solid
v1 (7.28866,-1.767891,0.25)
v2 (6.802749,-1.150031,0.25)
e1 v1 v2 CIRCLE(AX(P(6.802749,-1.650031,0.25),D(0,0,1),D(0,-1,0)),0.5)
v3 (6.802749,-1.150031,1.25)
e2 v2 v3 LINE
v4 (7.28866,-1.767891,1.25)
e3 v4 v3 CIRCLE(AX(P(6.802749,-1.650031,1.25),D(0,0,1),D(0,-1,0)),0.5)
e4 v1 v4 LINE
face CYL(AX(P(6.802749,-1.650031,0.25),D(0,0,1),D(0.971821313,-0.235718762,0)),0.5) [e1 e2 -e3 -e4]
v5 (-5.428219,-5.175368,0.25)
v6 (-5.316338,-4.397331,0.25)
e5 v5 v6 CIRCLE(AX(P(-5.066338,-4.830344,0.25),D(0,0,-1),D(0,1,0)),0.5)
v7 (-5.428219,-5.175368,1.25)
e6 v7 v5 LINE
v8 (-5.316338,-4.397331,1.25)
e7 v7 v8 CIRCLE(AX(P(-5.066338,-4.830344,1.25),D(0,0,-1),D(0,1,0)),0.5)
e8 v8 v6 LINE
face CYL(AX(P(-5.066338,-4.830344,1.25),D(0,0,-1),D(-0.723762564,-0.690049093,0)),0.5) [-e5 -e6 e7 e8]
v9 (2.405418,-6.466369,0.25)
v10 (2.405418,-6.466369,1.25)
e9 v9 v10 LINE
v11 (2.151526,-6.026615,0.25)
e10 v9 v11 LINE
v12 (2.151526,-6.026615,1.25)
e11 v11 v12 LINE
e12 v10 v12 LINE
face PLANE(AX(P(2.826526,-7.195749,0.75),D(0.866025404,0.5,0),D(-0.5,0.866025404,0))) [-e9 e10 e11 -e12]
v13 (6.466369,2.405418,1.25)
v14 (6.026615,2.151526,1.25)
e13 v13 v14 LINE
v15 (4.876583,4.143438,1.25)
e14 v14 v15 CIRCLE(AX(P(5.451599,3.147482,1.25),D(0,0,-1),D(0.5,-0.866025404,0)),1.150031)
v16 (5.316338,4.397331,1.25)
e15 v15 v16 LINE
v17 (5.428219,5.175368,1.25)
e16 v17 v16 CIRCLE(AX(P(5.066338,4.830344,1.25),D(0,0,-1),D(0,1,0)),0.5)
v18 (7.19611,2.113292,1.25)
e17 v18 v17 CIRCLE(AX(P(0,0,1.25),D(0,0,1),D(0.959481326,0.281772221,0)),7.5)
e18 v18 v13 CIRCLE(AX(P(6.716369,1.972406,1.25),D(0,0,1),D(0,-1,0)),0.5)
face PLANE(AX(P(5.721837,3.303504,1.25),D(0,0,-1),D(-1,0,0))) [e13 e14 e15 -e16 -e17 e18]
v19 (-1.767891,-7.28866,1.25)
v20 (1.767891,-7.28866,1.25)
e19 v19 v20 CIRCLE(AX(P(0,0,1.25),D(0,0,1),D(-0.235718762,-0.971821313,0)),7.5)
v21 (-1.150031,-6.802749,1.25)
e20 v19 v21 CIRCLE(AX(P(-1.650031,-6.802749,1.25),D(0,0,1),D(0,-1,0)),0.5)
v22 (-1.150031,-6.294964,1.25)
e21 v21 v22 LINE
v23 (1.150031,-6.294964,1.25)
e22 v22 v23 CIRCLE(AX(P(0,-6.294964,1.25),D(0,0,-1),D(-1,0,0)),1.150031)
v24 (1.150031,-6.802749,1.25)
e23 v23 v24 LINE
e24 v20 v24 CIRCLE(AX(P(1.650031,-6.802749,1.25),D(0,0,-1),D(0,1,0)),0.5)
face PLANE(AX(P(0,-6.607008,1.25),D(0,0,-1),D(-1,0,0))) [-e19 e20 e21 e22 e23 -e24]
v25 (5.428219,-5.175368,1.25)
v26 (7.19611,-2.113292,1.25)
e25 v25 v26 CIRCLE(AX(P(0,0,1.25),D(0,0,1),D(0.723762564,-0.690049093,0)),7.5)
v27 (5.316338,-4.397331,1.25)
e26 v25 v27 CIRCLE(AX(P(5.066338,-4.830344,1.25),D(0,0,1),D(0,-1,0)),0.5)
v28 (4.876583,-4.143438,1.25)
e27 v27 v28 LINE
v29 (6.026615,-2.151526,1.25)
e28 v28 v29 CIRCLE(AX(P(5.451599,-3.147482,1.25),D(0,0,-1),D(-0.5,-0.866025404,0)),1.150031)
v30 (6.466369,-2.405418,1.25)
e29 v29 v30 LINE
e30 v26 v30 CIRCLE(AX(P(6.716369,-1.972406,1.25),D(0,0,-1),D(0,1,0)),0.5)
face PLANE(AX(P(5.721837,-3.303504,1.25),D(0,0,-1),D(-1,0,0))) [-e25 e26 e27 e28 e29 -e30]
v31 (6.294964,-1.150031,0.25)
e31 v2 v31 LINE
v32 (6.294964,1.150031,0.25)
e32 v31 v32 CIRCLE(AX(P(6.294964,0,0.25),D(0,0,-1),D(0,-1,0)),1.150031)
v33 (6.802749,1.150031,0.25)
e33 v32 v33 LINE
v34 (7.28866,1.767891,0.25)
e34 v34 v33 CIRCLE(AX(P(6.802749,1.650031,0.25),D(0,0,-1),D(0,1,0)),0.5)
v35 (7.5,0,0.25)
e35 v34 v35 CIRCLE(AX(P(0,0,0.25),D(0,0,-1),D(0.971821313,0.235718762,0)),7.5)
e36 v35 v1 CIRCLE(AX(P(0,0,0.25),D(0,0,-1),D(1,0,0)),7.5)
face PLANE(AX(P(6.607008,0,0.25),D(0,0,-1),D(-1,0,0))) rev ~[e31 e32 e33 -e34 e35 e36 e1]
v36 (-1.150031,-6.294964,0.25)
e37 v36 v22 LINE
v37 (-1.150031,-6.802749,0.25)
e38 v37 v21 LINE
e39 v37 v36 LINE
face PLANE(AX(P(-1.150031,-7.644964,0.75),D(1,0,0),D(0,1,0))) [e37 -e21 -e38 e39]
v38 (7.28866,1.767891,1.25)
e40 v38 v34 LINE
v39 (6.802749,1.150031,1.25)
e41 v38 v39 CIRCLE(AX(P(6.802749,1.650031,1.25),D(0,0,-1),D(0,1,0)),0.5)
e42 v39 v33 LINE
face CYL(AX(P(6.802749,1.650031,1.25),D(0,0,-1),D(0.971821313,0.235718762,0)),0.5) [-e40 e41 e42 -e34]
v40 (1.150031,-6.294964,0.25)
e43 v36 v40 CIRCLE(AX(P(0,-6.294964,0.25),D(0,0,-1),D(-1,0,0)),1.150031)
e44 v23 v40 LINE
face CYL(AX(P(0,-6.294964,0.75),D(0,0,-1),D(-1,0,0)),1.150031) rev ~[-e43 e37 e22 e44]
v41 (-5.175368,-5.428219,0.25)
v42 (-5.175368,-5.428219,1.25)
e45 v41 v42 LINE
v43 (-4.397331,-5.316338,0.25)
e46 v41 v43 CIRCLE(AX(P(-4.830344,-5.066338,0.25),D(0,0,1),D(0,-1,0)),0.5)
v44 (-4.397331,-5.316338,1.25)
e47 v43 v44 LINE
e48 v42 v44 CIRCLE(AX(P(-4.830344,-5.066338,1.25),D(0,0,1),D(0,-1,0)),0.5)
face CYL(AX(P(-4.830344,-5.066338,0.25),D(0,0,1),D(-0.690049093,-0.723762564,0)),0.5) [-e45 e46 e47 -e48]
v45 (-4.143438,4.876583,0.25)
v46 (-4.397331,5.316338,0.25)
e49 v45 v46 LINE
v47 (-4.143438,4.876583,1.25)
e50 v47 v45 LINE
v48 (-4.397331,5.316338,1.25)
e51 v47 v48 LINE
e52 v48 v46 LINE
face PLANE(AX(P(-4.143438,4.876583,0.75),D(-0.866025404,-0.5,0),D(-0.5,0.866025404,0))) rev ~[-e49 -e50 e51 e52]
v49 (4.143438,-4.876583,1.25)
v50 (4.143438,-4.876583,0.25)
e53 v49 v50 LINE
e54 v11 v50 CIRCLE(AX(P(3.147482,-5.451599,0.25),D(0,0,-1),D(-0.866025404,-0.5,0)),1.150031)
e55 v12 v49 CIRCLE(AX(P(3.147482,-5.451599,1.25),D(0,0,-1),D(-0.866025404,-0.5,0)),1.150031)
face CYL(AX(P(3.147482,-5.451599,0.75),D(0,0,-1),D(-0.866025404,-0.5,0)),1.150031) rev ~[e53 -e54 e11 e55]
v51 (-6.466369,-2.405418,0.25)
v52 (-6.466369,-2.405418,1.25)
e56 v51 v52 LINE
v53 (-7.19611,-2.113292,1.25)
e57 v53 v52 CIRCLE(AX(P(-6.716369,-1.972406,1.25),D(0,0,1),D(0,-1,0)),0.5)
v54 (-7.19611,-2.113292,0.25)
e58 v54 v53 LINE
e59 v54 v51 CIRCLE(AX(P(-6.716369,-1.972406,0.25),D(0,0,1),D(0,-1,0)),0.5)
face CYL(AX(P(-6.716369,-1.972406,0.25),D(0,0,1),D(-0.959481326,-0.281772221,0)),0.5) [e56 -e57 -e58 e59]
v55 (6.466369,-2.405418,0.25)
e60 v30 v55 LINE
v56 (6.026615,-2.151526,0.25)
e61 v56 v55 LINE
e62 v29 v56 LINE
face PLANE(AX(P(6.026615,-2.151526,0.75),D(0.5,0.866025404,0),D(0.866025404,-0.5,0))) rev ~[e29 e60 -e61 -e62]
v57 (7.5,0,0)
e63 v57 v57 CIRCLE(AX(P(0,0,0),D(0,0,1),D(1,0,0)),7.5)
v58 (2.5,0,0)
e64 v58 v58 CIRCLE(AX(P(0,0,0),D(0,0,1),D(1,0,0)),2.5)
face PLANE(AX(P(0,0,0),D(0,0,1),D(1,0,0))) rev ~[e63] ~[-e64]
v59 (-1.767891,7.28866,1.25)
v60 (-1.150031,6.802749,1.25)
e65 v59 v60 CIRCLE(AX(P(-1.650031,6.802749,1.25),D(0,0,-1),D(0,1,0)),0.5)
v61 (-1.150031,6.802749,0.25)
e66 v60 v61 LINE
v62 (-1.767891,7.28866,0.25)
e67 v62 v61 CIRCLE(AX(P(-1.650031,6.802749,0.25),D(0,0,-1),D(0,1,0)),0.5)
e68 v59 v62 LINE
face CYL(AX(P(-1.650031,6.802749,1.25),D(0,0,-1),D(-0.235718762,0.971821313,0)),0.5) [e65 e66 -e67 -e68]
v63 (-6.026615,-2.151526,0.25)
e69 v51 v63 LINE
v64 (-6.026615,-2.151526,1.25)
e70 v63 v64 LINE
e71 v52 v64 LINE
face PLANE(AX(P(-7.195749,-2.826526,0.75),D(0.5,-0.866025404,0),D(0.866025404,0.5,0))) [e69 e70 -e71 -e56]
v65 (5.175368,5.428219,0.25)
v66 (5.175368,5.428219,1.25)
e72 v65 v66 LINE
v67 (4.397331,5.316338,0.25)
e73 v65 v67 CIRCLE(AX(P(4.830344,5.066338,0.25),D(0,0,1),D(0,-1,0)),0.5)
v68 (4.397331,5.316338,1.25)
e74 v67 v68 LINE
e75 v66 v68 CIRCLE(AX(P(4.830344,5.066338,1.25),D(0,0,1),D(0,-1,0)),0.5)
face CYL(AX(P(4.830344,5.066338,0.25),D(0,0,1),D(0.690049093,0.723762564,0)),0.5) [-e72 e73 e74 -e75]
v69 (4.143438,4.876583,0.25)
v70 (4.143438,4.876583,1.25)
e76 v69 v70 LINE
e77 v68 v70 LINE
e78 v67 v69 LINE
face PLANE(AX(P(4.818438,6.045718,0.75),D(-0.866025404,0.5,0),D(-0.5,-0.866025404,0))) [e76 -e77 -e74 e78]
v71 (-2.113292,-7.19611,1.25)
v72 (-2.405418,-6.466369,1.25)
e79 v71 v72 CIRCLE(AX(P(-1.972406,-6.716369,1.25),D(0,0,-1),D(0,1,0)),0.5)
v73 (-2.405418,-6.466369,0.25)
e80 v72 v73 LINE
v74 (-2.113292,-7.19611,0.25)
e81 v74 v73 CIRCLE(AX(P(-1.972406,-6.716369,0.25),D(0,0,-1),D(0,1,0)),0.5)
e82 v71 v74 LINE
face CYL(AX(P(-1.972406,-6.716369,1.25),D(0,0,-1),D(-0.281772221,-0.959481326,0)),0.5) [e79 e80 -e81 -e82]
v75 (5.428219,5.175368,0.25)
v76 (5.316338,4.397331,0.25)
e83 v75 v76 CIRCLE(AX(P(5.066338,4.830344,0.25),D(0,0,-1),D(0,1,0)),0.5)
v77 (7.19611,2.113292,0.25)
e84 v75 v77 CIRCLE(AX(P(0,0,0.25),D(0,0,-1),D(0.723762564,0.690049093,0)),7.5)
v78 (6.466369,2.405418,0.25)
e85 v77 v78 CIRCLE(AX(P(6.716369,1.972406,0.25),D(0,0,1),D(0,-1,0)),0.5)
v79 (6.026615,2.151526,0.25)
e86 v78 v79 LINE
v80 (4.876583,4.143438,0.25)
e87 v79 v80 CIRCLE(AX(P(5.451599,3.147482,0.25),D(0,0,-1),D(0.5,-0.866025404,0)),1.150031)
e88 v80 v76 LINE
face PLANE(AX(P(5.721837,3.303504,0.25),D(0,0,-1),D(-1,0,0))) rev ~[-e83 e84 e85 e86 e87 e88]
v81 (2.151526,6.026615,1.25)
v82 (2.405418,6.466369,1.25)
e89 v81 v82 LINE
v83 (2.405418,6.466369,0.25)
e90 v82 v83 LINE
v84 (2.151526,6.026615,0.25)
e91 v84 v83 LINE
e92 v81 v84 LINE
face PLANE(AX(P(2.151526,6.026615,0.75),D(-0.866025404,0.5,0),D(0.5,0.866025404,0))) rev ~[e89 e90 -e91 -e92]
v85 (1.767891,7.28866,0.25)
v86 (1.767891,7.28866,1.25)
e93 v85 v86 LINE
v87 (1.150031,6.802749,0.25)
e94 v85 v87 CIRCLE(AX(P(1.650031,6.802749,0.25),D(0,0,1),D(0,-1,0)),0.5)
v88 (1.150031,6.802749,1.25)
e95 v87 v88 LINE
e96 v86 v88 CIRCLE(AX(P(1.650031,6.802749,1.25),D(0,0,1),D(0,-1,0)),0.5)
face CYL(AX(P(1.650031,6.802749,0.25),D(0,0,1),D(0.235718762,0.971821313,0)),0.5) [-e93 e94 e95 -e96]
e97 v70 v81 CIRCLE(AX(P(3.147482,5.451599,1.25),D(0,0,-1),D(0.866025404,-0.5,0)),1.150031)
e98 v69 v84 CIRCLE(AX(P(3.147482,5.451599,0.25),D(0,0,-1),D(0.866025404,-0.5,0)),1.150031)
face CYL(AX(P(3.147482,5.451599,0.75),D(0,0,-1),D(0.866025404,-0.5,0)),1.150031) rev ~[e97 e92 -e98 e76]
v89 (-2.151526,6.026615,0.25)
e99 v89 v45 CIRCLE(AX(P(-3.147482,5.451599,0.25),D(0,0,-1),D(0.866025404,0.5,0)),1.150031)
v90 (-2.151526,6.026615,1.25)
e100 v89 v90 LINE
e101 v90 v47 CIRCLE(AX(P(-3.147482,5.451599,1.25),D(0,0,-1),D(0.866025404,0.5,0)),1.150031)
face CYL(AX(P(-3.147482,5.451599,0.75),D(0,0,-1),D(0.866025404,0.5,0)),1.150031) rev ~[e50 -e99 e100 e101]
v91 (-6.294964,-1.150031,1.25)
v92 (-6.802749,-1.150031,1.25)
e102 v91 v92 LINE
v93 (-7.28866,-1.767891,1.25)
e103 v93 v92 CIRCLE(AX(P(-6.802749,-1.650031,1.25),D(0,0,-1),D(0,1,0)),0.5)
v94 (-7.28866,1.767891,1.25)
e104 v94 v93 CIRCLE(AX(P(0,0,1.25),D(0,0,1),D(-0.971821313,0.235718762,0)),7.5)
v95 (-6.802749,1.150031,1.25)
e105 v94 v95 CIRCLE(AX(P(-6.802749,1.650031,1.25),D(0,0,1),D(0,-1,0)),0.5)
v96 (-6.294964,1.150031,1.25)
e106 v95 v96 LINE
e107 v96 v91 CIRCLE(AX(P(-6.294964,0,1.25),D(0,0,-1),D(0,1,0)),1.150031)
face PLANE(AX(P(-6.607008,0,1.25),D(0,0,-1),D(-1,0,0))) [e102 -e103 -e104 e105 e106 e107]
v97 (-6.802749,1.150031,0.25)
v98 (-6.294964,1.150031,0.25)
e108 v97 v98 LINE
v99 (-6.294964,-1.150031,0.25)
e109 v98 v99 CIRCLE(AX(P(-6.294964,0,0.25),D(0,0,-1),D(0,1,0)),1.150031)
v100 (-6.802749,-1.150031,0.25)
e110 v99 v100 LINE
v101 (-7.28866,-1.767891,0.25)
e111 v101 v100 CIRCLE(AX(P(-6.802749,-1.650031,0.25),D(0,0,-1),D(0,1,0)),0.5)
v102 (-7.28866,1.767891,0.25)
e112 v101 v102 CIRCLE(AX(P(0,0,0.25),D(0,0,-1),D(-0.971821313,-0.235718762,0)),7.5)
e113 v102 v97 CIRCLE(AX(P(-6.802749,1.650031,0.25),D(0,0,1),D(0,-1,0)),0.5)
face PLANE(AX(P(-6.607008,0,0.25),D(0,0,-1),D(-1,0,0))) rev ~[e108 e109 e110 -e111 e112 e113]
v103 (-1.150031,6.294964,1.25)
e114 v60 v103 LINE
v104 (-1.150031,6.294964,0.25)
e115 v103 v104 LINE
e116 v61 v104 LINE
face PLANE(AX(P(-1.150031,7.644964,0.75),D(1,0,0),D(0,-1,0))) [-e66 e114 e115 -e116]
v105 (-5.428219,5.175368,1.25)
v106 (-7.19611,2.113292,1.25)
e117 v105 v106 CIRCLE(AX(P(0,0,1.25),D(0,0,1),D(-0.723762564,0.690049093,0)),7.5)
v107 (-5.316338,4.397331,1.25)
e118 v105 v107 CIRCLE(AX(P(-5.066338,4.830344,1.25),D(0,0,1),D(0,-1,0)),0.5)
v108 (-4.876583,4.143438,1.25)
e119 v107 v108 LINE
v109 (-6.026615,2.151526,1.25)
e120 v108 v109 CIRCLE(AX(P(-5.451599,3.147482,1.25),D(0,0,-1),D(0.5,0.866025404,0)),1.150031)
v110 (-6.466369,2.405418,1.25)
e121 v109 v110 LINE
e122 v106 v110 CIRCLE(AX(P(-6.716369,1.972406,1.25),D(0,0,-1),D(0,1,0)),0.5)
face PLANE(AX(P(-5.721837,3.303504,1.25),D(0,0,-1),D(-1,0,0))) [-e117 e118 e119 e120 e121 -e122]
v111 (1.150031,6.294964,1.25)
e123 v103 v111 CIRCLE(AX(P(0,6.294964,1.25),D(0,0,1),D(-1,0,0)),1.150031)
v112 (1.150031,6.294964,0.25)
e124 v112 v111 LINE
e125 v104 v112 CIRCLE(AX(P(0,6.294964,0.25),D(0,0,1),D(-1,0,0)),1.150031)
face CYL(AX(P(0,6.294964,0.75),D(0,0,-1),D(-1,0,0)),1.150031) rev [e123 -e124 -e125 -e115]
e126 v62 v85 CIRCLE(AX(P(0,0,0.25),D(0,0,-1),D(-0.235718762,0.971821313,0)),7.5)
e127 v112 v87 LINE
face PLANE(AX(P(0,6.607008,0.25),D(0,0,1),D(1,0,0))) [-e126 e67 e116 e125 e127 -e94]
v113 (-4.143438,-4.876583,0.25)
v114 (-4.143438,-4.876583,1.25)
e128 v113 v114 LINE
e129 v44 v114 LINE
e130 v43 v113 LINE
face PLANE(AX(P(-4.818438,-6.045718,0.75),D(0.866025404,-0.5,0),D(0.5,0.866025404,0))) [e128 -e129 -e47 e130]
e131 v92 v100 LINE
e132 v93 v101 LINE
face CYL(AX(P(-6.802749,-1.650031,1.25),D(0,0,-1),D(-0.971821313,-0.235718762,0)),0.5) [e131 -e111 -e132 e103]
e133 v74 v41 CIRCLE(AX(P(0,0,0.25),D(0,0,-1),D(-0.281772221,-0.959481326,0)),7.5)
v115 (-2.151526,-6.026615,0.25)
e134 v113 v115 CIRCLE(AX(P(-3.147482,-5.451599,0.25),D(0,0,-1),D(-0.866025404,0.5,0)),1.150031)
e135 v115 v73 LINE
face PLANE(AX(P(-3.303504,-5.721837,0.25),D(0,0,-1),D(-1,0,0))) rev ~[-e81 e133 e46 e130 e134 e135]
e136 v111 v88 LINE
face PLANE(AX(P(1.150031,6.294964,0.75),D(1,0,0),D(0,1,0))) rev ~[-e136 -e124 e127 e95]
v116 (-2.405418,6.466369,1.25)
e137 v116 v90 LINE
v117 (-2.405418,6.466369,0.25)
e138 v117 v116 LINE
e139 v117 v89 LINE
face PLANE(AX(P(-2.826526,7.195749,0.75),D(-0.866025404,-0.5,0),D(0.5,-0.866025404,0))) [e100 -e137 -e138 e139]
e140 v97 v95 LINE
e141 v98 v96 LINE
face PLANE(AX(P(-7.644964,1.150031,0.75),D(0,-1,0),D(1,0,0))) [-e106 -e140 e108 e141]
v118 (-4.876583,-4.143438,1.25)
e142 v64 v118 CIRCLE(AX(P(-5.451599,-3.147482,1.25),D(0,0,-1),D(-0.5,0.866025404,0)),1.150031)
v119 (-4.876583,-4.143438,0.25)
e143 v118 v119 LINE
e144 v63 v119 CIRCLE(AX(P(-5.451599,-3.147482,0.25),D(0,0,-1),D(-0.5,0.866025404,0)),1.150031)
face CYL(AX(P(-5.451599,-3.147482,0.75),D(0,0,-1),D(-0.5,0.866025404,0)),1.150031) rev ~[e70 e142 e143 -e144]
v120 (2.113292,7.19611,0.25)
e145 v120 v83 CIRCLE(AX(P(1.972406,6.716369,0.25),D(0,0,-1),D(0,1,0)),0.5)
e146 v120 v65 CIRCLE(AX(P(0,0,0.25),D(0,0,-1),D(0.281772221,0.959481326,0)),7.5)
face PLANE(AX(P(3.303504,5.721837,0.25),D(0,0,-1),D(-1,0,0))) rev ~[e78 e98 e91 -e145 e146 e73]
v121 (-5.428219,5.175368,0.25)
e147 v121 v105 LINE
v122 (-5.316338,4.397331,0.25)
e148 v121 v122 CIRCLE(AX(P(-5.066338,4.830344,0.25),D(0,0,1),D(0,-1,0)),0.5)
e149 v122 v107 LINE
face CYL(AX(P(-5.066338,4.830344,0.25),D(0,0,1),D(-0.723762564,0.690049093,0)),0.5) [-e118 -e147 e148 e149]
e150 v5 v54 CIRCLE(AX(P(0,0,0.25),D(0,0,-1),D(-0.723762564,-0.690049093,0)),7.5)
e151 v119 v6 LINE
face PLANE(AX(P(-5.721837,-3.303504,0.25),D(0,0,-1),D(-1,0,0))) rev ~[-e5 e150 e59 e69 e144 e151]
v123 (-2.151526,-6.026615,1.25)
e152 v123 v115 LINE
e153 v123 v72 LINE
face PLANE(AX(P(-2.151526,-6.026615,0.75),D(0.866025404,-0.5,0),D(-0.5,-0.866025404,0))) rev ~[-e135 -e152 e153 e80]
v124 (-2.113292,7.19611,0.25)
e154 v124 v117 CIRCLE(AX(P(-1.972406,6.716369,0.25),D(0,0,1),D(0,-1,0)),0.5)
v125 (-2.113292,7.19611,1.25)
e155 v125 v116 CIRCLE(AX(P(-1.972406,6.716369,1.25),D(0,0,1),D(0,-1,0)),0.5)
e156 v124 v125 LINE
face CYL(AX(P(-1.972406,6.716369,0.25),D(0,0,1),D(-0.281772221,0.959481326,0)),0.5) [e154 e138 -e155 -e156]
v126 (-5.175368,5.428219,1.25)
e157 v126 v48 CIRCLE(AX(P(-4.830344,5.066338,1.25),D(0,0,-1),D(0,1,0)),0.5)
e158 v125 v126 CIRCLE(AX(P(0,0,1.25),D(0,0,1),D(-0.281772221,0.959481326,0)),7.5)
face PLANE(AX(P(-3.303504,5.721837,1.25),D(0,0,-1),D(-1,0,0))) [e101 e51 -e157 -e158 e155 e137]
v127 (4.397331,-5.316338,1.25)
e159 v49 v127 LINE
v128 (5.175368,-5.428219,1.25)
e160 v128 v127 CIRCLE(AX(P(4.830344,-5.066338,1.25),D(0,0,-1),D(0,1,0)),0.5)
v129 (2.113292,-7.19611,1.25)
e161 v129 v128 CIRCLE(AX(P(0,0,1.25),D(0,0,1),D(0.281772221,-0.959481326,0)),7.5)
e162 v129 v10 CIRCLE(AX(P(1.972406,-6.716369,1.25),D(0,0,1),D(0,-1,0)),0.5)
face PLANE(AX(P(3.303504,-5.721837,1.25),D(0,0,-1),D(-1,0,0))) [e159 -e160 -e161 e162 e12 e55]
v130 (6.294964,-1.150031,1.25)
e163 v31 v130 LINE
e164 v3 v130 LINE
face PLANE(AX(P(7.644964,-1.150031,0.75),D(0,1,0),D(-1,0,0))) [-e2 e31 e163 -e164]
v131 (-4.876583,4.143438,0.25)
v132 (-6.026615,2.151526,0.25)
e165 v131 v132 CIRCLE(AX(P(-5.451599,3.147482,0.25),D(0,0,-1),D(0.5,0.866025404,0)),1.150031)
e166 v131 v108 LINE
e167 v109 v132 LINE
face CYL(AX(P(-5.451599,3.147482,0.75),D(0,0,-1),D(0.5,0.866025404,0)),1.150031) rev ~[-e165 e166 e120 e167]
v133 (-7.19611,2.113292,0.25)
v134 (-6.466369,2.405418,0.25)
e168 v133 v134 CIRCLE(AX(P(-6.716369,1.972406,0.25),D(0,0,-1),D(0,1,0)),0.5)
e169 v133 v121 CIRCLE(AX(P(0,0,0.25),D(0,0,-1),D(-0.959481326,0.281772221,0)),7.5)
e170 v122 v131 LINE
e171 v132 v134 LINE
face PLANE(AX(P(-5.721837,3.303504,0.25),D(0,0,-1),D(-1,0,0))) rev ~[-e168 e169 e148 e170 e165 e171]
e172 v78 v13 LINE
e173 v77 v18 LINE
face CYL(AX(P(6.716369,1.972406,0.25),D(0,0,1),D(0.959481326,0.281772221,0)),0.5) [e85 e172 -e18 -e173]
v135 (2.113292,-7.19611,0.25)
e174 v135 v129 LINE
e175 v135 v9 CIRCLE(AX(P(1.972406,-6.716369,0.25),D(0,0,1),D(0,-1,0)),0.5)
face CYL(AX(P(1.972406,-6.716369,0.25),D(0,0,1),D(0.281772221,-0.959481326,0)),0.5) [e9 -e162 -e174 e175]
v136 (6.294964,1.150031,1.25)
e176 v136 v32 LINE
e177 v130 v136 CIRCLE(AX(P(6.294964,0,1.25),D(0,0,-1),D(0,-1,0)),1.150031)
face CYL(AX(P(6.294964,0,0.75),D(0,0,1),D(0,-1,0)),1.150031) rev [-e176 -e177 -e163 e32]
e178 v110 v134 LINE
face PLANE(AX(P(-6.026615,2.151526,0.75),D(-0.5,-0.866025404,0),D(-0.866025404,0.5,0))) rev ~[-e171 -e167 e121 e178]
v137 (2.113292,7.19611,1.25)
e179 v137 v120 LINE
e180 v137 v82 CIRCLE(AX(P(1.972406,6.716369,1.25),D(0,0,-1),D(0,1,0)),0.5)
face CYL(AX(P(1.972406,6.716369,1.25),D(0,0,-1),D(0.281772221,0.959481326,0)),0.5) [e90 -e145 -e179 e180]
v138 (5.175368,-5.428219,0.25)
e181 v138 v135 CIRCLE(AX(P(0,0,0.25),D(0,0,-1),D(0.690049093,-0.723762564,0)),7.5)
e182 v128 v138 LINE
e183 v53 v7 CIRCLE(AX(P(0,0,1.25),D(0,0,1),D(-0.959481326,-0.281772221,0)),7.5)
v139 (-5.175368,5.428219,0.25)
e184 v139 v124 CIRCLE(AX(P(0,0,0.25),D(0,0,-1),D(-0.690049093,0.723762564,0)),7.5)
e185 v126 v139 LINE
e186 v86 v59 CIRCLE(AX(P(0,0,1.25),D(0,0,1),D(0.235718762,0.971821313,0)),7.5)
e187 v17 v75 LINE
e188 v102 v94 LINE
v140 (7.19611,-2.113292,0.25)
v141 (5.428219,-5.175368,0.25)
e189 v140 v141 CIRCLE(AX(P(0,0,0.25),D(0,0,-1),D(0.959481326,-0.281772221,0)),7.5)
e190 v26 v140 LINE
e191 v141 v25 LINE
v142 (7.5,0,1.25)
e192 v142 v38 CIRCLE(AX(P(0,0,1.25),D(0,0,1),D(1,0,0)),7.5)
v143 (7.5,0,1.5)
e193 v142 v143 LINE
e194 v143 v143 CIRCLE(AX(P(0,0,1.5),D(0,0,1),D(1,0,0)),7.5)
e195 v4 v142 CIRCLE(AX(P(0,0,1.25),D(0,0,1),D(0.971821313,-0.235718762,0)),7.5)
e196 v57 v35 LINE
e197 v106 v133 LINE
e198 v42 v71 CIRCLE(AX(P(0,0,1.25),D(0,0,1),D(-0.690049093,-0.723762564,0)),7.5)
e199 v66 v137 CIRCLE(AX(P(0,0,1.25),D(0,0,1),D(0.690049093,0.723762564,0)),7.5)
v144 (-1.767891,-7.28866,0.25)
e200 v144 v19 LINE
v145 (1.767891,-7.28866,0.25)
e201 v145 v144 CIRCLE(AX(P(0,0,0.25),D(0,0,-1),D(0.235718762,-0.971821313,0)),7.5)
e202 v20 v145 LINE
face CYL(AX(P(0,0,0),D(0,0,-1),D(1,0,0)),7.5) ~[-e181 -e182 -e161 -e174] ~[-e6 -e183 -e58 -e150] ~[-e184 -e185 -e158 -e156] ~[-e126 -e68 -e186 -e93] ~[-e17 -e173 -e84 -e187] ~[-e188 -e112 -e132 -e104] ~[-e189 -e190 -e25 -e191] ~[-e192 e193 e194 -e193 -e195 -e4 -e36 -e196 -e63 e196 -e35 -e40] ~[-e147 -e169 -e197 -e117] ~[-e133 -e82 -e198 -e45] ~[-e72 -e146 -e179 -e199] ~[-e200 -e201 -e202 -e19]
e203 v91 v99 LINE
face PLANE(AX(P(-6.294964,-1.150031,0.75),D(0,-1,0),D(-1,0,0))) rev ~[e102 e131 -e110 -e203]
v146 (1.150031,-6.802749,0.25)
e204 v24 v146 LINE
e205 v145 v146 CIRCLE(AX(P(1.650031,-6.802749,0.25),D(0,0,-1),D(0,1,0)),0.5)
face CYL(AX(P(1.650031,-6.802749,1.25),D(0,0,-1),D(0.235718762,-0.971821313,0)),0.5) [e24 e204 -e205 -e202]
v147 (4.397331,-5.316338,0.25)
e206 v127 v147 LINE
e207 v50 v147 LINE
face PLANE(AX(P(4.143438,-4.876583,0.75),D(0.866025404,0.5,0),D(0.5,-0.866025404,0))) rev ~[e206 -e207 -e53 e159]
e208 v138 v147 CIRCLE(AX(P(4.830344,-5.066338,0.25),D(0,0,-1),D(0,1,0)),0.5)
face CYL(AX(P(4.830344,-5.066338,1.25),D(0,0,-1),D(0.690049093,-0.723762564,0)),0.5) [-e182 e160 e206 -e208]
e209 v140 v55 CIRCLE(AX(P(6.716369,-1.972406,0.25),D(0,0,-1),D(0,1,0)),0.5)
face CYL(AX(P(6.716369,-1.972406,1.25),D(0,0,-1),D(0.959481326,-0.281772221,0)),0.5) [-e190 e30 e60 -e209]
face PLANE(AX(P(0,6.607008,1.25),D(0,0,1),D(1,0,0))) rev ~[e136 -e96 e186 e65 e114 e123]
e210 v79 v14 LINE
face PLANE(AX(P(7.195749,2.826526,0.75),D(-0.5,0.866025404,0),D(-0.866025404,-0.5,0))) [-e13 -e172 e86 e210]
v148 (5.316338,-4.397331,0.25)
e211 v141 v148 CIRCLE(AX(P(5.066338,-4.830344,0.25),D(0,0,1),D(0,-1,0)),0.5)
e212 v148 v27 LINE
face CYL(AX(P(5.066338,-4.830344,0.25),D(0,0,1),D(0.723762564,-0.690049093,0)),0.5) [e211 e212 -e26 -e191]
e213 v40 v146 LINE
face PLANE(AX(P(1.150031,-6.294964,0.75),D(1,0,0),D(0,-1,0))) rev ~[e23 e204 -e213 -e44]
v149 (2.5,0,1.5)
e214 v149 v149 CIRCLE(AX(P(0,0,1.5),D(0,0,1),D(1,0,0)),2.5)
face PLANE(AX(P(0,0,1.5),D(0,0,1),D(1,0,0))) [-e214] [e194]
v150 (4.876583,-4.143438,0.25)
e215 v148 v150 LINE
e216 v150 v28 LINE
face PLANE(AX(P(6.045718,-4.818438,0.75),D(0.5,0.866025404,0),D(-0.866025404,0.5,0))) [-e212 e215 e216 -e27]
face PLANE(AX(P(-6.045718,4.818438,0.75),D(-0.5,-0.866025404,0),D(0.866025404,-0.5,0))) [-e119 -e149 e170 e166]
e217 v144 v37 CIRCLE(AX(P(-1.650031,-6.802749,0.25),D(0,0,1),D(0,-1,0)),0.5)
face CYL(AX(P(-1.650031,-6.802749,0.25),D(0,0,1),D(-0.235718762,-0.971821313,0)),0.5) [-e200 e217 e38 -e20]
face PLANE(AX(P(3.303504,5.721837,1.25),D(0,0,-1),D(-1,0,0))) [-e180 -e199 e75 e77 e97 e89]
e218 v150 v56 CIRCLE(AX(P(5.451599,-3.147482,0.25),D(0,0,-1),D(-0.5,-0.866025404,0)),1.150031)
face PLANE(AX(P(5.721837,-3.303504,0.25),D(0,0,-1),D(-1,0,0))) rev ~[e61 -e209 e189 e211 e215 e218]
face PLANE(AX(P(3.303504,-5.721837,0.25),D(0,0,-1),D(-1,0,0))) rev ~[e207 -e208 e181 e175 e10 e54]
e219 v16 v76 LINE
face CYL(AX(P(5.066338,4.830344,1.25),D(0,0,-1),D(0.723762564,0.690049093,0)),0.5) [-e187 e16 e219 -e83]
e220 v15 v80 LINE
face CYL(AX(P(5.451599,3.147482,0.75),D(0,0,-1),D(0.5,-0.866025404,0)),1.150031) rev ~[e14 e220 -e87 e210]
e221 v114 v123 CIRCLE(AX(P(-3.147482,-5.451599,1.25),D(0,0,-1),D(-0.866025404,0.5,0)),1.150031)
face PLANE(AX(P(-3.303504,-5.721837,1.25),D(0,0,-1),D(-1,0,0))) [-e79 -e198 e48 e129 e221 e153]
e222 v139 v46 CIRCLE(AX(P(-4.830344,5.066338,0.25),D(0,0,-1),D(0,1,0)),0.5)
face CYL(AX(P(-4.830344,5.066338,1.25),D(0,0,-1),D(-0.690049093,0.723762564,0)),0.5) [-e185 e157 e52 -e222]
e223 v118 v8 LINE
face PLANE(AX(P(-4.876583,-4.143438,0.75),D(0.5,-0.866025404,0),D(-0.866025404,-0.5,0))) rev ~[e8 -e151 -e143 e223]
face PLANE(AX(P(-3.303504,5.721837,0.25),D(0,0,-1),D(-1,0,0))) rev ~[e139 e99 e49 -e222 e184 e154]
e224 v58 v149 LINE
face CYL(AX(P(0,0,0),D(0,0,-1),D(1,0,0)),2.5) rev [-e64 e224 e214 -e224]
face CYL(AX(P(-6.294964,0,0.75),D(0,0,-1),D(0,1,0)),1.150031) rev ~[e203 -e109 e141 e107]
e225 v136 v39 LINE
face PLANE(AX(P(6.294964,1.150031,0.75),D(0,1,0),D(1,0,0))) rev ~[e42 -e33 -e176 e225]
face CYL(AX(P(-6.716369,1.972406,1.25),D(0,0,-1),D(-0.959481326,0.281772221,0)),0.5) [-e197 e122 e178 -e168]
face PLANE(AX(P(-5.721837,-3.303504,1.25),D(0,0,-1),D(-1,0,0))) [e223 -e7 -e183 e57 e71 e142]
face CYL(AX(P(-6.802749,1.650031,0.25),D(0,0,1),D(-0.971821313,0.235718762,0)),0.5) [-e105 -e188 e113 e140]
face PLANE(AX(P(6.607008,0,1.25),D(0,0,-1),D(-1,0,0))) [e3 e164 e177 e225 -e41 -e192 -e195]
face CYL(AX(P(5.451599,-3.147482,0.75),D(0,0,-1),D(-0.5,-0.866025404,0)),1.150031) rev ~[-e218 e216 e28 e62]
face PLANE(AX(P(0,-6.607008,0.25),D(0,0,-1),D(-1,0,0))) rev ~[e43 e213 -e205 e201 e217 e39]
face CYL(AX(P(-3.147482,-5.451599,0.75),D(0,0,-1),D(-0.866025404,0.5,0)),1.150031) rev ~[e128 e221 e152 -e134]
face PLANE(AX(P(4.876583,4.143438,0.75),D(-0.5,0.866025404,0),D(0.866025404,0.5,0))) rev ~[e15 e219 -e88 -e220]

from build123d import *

# Parameters (mm, degrees)
SKETCH1_R               = 7.5
SKETCH1_R_2             = 2.5
BOSS_EXTRUDE1_DEPTH     = 1.5
CUT_EXTRUDE1_DEPTH      = 0.5
CUT_EXTRUDE1_DEPTH_BACK = 0.5
FILLET1_R               = 0.5


with BuildPart() as part:
    # Sketch1 → Boss-Extrude1 (new body)
    with BuildSketch(Plane.XY):
        Circle(SKETCH1_R)
        Circle(SKETCH1_R_2, mode=Mode.SUBTRACT)
    extrude(amount=BOSS_EXTRUDE1_DEPTH)

    # Sketch2 → Cut-Extrude1 (cut, two sides)
    with BuildSketch(Plane.XY.offset(0.75)) as cut_extrude1_sk:
        with BuildLine():
            Line((1.150031334, 6.294964197), (1.150031334, 7.644964197))
            Line((1.150031334, 7.644964197), (-1.150031334, 7.644964197))
            Line((-1.150031334, 7.644964197), (-1.150031334, 6.294964197))
            ThreePointArc((-1.150031334, 6.294964197), (0, 5.144932863), (1.150031334, 6.294964197))
        make_face()
        with BuildLine():
            Line((2.151525748, 6.026614578), (2.826525748, 7.195748873))
            Line((2.826525748, 7.195748873), (4.818438449, 6.045717539))
            Line((4.818438449, 6.045717539), (4.143438449, 4.876583244))
            ThreePointArc((4.143438449, 4.876583244), (2.572466432, 4.45564256), (2.151525748, 6.026614578))
        make_face()
        with BuildLine():
            Line((4.876583244, 4.143438449), (6.045717539, 4.818438449))
            Line((6.045717539, 4.818438449), (7.195748873, 2.826525748))
            Line((7.195748873, 2.826525748), (6.026614578, 2.151525748))
            ThreePointArc((6.026614578, 2.151525748), (4.45564256, 2.572466432), (4.876583244, 4.143438449))
        make_face()
        with BuildLine():
            Line((6.294964197, 1.150031334), (7.644964197, 1.150031334))
            Line((7.644964197, 1.150031334), (7.644964197, -1.150031334))
            Line((7.644964197, -1.150031334), (6.294964197, -1.150031334))
            ThreePointArc((6.294964197, -1.150031334), (5.144932863, 0), (6.294964197, 1.150031334))
        make_face()
        with BuildLine():
            Line((6.026614578, -2.151525748), (7.195748873, -2.826525748))
            Line((7.195748873, -2.826525748), (6.045717539, -4.818438449))
            Line((6.045717539, -4.818438449), (4.876583244, -4.143438449))
            ThreePointArc((4.876583244, -4.143438449), (4.45564256, -2.572466432), (6.026614578, -2.151525748))
        make_face()
        with BuildLine():
            Line((4.143438449, -4.876583244), (4.818438449, -6.045717539))
            Line((4.818438449, -6.045717539), (2.826525748, -7.195748873))
            Line((2.826525748, -7.195748873), (2.151525748, -6.026614578))
            ThreePointArc((2.151525748, -6.026614578), (2.572466432, -4.45564256), (4.143438449, -4.876583244))
        make_face()
        with BuildLine():
            Line((1.150031334, -6.294964197), (1.150031334, -7.644964197))
            Line((1.150031334, -7.644964197), (-1.150031334, -7.644964197))
            Line((-1.150031334, -7.644964197), (-1.150031334, -6.294964197))
            ThreePointArc((-1.150031334, -6.294964197), (0, -5.144932863), (1.150031334, -6.294964197))
        make_face()
        with BuildLine():
            Line((-2.151525748, -6.026614578), (-2.826525748, -7.195748873))
            Line((-2.826525748, -7.195748873), (-4.818438449, -6.045717539))
            Line((-4.818438449, -6.045717539), (-4.143438449, -4.876583244))
            ThreePointArc((-4.143438449, -4.876583244), (-2.572466432, -4.45564256), (-2.151525748, -6.026614578))
        make_face()
        with BuildLine():
            Line((-4.876583244, -4.143438449), (-6.045717539, -4.818438449))
            Line((-6.045717539, -4.818438449), (-7.195748873, -2.826525748))
            Line((-7.195748873, -2.826525748), (-6.026614578, -2.151525748))
            ThreePointArc((-6.026614578, -2.151525748), (-4.45564256, -2.572466432), (-4.876583244, -4.143438449))
        make_face()
        with BuildLine():
            Line((-6.294964197, -1.150031334), (-7.644964197, -1.150031334))
            Line((-7.644964197, -1.150031334), (-7.644964197, 1.150031334))
            Line((-7.644964197, 1.150031334), (-6.294964197, 1.150031334))
            ThreePointArc((-6.294964197, 1.150031334), (-5.144932863, 0), (-6.294964197, -1.150031334))
        make_face()
        with BuildLine():
            Line((-6.026614578, 2.151525748), (-7.195748873, 2.826525748))
            Line((-7.195748873, 2.826525748), (-6.045717539, 4.818438449))
            Line((-6.045717539, 4.818438449), (-4.876583244, 4.143438449))
            ThreePointArc((-4.876583244, 4.143438449), (-4.45564256, 2.572466432), (-6.026614578, 2.151525748))
        make_face()
        with BuildLine():
            Line((-4.143438449, 4.876583244), (-4.818438449, 6.045717539))
            Line((-4.818438449, 6.045717539), (-2.826525748, 7.195748873))
            Line((-2.826525748, 7.195748873), (-2.151525748, 6.026614578))
            ThreePointArc((-2.151525748, 6.026614578), (-2.572466432, 4.45564256), (-4.143438449, 4.876583244))
        make_face()
    extrude(amount=CUT_EXTRUDE1_DEPTH, mode=Mode.SUBTRACT)
    extrude(cut_extrude1_sk.sketch, amount=-CUT_EXTRUDE1_DEPTH_BACK, mode=Mode.SUBTRACT)

    # Fillet1
    fillet1_edges = [part.edges().sort_by_distance(p)[0] for p in [
        (-1.150031334, 7.411304064, 0.75),
        (1.150031334, 7.411304064, 0.75),
        (-7.411304064, -1.150031334, 0.75),
        (-7.411304064, 1.150031334, 0.75),
        (-6.993393262, 2.709695681, 0.75),
        (-5.843361928, 4.701608383, 0.75),
        (-4.701608383, 5.843361928, 0.75),
        (-2.709695681, 6.993393262, 0.75),
        (5.843361928, 4.701608383, 0.75),
        (6.993393262, 2.709695681, 0.75),
        (2.709695681, 6.993393262, 0.75),
        (4.701608383, 5.843361928, 0.75),
        (7.411304064, 1.150031334, 0.75),
        (7.411304064, -1.150031334, 0.75),
        (6.993393262, -2.709695681, 0.75),
        (5.843361928, -4.701608383, 0.75),
        (4.701608383, -5.843361928, 0.75),
        (2.709695681, -6.993393262, 0.75),
        (1.150031334, -7.411304064, 0.75),
        (-1.150031334, -7.411304064, 0.75),
        (-5.843361928, -4.701608383, 0.75),
        (-6.993393262, -2.709695681, 0.75),
        (-2.709695681, -6.993393262, 0.75),
        (-4.701608383, -5.843361928, 0.75),
    ]]
    fillet(fillet1_edges, radius=FILLET1_R)


solid = part.part
